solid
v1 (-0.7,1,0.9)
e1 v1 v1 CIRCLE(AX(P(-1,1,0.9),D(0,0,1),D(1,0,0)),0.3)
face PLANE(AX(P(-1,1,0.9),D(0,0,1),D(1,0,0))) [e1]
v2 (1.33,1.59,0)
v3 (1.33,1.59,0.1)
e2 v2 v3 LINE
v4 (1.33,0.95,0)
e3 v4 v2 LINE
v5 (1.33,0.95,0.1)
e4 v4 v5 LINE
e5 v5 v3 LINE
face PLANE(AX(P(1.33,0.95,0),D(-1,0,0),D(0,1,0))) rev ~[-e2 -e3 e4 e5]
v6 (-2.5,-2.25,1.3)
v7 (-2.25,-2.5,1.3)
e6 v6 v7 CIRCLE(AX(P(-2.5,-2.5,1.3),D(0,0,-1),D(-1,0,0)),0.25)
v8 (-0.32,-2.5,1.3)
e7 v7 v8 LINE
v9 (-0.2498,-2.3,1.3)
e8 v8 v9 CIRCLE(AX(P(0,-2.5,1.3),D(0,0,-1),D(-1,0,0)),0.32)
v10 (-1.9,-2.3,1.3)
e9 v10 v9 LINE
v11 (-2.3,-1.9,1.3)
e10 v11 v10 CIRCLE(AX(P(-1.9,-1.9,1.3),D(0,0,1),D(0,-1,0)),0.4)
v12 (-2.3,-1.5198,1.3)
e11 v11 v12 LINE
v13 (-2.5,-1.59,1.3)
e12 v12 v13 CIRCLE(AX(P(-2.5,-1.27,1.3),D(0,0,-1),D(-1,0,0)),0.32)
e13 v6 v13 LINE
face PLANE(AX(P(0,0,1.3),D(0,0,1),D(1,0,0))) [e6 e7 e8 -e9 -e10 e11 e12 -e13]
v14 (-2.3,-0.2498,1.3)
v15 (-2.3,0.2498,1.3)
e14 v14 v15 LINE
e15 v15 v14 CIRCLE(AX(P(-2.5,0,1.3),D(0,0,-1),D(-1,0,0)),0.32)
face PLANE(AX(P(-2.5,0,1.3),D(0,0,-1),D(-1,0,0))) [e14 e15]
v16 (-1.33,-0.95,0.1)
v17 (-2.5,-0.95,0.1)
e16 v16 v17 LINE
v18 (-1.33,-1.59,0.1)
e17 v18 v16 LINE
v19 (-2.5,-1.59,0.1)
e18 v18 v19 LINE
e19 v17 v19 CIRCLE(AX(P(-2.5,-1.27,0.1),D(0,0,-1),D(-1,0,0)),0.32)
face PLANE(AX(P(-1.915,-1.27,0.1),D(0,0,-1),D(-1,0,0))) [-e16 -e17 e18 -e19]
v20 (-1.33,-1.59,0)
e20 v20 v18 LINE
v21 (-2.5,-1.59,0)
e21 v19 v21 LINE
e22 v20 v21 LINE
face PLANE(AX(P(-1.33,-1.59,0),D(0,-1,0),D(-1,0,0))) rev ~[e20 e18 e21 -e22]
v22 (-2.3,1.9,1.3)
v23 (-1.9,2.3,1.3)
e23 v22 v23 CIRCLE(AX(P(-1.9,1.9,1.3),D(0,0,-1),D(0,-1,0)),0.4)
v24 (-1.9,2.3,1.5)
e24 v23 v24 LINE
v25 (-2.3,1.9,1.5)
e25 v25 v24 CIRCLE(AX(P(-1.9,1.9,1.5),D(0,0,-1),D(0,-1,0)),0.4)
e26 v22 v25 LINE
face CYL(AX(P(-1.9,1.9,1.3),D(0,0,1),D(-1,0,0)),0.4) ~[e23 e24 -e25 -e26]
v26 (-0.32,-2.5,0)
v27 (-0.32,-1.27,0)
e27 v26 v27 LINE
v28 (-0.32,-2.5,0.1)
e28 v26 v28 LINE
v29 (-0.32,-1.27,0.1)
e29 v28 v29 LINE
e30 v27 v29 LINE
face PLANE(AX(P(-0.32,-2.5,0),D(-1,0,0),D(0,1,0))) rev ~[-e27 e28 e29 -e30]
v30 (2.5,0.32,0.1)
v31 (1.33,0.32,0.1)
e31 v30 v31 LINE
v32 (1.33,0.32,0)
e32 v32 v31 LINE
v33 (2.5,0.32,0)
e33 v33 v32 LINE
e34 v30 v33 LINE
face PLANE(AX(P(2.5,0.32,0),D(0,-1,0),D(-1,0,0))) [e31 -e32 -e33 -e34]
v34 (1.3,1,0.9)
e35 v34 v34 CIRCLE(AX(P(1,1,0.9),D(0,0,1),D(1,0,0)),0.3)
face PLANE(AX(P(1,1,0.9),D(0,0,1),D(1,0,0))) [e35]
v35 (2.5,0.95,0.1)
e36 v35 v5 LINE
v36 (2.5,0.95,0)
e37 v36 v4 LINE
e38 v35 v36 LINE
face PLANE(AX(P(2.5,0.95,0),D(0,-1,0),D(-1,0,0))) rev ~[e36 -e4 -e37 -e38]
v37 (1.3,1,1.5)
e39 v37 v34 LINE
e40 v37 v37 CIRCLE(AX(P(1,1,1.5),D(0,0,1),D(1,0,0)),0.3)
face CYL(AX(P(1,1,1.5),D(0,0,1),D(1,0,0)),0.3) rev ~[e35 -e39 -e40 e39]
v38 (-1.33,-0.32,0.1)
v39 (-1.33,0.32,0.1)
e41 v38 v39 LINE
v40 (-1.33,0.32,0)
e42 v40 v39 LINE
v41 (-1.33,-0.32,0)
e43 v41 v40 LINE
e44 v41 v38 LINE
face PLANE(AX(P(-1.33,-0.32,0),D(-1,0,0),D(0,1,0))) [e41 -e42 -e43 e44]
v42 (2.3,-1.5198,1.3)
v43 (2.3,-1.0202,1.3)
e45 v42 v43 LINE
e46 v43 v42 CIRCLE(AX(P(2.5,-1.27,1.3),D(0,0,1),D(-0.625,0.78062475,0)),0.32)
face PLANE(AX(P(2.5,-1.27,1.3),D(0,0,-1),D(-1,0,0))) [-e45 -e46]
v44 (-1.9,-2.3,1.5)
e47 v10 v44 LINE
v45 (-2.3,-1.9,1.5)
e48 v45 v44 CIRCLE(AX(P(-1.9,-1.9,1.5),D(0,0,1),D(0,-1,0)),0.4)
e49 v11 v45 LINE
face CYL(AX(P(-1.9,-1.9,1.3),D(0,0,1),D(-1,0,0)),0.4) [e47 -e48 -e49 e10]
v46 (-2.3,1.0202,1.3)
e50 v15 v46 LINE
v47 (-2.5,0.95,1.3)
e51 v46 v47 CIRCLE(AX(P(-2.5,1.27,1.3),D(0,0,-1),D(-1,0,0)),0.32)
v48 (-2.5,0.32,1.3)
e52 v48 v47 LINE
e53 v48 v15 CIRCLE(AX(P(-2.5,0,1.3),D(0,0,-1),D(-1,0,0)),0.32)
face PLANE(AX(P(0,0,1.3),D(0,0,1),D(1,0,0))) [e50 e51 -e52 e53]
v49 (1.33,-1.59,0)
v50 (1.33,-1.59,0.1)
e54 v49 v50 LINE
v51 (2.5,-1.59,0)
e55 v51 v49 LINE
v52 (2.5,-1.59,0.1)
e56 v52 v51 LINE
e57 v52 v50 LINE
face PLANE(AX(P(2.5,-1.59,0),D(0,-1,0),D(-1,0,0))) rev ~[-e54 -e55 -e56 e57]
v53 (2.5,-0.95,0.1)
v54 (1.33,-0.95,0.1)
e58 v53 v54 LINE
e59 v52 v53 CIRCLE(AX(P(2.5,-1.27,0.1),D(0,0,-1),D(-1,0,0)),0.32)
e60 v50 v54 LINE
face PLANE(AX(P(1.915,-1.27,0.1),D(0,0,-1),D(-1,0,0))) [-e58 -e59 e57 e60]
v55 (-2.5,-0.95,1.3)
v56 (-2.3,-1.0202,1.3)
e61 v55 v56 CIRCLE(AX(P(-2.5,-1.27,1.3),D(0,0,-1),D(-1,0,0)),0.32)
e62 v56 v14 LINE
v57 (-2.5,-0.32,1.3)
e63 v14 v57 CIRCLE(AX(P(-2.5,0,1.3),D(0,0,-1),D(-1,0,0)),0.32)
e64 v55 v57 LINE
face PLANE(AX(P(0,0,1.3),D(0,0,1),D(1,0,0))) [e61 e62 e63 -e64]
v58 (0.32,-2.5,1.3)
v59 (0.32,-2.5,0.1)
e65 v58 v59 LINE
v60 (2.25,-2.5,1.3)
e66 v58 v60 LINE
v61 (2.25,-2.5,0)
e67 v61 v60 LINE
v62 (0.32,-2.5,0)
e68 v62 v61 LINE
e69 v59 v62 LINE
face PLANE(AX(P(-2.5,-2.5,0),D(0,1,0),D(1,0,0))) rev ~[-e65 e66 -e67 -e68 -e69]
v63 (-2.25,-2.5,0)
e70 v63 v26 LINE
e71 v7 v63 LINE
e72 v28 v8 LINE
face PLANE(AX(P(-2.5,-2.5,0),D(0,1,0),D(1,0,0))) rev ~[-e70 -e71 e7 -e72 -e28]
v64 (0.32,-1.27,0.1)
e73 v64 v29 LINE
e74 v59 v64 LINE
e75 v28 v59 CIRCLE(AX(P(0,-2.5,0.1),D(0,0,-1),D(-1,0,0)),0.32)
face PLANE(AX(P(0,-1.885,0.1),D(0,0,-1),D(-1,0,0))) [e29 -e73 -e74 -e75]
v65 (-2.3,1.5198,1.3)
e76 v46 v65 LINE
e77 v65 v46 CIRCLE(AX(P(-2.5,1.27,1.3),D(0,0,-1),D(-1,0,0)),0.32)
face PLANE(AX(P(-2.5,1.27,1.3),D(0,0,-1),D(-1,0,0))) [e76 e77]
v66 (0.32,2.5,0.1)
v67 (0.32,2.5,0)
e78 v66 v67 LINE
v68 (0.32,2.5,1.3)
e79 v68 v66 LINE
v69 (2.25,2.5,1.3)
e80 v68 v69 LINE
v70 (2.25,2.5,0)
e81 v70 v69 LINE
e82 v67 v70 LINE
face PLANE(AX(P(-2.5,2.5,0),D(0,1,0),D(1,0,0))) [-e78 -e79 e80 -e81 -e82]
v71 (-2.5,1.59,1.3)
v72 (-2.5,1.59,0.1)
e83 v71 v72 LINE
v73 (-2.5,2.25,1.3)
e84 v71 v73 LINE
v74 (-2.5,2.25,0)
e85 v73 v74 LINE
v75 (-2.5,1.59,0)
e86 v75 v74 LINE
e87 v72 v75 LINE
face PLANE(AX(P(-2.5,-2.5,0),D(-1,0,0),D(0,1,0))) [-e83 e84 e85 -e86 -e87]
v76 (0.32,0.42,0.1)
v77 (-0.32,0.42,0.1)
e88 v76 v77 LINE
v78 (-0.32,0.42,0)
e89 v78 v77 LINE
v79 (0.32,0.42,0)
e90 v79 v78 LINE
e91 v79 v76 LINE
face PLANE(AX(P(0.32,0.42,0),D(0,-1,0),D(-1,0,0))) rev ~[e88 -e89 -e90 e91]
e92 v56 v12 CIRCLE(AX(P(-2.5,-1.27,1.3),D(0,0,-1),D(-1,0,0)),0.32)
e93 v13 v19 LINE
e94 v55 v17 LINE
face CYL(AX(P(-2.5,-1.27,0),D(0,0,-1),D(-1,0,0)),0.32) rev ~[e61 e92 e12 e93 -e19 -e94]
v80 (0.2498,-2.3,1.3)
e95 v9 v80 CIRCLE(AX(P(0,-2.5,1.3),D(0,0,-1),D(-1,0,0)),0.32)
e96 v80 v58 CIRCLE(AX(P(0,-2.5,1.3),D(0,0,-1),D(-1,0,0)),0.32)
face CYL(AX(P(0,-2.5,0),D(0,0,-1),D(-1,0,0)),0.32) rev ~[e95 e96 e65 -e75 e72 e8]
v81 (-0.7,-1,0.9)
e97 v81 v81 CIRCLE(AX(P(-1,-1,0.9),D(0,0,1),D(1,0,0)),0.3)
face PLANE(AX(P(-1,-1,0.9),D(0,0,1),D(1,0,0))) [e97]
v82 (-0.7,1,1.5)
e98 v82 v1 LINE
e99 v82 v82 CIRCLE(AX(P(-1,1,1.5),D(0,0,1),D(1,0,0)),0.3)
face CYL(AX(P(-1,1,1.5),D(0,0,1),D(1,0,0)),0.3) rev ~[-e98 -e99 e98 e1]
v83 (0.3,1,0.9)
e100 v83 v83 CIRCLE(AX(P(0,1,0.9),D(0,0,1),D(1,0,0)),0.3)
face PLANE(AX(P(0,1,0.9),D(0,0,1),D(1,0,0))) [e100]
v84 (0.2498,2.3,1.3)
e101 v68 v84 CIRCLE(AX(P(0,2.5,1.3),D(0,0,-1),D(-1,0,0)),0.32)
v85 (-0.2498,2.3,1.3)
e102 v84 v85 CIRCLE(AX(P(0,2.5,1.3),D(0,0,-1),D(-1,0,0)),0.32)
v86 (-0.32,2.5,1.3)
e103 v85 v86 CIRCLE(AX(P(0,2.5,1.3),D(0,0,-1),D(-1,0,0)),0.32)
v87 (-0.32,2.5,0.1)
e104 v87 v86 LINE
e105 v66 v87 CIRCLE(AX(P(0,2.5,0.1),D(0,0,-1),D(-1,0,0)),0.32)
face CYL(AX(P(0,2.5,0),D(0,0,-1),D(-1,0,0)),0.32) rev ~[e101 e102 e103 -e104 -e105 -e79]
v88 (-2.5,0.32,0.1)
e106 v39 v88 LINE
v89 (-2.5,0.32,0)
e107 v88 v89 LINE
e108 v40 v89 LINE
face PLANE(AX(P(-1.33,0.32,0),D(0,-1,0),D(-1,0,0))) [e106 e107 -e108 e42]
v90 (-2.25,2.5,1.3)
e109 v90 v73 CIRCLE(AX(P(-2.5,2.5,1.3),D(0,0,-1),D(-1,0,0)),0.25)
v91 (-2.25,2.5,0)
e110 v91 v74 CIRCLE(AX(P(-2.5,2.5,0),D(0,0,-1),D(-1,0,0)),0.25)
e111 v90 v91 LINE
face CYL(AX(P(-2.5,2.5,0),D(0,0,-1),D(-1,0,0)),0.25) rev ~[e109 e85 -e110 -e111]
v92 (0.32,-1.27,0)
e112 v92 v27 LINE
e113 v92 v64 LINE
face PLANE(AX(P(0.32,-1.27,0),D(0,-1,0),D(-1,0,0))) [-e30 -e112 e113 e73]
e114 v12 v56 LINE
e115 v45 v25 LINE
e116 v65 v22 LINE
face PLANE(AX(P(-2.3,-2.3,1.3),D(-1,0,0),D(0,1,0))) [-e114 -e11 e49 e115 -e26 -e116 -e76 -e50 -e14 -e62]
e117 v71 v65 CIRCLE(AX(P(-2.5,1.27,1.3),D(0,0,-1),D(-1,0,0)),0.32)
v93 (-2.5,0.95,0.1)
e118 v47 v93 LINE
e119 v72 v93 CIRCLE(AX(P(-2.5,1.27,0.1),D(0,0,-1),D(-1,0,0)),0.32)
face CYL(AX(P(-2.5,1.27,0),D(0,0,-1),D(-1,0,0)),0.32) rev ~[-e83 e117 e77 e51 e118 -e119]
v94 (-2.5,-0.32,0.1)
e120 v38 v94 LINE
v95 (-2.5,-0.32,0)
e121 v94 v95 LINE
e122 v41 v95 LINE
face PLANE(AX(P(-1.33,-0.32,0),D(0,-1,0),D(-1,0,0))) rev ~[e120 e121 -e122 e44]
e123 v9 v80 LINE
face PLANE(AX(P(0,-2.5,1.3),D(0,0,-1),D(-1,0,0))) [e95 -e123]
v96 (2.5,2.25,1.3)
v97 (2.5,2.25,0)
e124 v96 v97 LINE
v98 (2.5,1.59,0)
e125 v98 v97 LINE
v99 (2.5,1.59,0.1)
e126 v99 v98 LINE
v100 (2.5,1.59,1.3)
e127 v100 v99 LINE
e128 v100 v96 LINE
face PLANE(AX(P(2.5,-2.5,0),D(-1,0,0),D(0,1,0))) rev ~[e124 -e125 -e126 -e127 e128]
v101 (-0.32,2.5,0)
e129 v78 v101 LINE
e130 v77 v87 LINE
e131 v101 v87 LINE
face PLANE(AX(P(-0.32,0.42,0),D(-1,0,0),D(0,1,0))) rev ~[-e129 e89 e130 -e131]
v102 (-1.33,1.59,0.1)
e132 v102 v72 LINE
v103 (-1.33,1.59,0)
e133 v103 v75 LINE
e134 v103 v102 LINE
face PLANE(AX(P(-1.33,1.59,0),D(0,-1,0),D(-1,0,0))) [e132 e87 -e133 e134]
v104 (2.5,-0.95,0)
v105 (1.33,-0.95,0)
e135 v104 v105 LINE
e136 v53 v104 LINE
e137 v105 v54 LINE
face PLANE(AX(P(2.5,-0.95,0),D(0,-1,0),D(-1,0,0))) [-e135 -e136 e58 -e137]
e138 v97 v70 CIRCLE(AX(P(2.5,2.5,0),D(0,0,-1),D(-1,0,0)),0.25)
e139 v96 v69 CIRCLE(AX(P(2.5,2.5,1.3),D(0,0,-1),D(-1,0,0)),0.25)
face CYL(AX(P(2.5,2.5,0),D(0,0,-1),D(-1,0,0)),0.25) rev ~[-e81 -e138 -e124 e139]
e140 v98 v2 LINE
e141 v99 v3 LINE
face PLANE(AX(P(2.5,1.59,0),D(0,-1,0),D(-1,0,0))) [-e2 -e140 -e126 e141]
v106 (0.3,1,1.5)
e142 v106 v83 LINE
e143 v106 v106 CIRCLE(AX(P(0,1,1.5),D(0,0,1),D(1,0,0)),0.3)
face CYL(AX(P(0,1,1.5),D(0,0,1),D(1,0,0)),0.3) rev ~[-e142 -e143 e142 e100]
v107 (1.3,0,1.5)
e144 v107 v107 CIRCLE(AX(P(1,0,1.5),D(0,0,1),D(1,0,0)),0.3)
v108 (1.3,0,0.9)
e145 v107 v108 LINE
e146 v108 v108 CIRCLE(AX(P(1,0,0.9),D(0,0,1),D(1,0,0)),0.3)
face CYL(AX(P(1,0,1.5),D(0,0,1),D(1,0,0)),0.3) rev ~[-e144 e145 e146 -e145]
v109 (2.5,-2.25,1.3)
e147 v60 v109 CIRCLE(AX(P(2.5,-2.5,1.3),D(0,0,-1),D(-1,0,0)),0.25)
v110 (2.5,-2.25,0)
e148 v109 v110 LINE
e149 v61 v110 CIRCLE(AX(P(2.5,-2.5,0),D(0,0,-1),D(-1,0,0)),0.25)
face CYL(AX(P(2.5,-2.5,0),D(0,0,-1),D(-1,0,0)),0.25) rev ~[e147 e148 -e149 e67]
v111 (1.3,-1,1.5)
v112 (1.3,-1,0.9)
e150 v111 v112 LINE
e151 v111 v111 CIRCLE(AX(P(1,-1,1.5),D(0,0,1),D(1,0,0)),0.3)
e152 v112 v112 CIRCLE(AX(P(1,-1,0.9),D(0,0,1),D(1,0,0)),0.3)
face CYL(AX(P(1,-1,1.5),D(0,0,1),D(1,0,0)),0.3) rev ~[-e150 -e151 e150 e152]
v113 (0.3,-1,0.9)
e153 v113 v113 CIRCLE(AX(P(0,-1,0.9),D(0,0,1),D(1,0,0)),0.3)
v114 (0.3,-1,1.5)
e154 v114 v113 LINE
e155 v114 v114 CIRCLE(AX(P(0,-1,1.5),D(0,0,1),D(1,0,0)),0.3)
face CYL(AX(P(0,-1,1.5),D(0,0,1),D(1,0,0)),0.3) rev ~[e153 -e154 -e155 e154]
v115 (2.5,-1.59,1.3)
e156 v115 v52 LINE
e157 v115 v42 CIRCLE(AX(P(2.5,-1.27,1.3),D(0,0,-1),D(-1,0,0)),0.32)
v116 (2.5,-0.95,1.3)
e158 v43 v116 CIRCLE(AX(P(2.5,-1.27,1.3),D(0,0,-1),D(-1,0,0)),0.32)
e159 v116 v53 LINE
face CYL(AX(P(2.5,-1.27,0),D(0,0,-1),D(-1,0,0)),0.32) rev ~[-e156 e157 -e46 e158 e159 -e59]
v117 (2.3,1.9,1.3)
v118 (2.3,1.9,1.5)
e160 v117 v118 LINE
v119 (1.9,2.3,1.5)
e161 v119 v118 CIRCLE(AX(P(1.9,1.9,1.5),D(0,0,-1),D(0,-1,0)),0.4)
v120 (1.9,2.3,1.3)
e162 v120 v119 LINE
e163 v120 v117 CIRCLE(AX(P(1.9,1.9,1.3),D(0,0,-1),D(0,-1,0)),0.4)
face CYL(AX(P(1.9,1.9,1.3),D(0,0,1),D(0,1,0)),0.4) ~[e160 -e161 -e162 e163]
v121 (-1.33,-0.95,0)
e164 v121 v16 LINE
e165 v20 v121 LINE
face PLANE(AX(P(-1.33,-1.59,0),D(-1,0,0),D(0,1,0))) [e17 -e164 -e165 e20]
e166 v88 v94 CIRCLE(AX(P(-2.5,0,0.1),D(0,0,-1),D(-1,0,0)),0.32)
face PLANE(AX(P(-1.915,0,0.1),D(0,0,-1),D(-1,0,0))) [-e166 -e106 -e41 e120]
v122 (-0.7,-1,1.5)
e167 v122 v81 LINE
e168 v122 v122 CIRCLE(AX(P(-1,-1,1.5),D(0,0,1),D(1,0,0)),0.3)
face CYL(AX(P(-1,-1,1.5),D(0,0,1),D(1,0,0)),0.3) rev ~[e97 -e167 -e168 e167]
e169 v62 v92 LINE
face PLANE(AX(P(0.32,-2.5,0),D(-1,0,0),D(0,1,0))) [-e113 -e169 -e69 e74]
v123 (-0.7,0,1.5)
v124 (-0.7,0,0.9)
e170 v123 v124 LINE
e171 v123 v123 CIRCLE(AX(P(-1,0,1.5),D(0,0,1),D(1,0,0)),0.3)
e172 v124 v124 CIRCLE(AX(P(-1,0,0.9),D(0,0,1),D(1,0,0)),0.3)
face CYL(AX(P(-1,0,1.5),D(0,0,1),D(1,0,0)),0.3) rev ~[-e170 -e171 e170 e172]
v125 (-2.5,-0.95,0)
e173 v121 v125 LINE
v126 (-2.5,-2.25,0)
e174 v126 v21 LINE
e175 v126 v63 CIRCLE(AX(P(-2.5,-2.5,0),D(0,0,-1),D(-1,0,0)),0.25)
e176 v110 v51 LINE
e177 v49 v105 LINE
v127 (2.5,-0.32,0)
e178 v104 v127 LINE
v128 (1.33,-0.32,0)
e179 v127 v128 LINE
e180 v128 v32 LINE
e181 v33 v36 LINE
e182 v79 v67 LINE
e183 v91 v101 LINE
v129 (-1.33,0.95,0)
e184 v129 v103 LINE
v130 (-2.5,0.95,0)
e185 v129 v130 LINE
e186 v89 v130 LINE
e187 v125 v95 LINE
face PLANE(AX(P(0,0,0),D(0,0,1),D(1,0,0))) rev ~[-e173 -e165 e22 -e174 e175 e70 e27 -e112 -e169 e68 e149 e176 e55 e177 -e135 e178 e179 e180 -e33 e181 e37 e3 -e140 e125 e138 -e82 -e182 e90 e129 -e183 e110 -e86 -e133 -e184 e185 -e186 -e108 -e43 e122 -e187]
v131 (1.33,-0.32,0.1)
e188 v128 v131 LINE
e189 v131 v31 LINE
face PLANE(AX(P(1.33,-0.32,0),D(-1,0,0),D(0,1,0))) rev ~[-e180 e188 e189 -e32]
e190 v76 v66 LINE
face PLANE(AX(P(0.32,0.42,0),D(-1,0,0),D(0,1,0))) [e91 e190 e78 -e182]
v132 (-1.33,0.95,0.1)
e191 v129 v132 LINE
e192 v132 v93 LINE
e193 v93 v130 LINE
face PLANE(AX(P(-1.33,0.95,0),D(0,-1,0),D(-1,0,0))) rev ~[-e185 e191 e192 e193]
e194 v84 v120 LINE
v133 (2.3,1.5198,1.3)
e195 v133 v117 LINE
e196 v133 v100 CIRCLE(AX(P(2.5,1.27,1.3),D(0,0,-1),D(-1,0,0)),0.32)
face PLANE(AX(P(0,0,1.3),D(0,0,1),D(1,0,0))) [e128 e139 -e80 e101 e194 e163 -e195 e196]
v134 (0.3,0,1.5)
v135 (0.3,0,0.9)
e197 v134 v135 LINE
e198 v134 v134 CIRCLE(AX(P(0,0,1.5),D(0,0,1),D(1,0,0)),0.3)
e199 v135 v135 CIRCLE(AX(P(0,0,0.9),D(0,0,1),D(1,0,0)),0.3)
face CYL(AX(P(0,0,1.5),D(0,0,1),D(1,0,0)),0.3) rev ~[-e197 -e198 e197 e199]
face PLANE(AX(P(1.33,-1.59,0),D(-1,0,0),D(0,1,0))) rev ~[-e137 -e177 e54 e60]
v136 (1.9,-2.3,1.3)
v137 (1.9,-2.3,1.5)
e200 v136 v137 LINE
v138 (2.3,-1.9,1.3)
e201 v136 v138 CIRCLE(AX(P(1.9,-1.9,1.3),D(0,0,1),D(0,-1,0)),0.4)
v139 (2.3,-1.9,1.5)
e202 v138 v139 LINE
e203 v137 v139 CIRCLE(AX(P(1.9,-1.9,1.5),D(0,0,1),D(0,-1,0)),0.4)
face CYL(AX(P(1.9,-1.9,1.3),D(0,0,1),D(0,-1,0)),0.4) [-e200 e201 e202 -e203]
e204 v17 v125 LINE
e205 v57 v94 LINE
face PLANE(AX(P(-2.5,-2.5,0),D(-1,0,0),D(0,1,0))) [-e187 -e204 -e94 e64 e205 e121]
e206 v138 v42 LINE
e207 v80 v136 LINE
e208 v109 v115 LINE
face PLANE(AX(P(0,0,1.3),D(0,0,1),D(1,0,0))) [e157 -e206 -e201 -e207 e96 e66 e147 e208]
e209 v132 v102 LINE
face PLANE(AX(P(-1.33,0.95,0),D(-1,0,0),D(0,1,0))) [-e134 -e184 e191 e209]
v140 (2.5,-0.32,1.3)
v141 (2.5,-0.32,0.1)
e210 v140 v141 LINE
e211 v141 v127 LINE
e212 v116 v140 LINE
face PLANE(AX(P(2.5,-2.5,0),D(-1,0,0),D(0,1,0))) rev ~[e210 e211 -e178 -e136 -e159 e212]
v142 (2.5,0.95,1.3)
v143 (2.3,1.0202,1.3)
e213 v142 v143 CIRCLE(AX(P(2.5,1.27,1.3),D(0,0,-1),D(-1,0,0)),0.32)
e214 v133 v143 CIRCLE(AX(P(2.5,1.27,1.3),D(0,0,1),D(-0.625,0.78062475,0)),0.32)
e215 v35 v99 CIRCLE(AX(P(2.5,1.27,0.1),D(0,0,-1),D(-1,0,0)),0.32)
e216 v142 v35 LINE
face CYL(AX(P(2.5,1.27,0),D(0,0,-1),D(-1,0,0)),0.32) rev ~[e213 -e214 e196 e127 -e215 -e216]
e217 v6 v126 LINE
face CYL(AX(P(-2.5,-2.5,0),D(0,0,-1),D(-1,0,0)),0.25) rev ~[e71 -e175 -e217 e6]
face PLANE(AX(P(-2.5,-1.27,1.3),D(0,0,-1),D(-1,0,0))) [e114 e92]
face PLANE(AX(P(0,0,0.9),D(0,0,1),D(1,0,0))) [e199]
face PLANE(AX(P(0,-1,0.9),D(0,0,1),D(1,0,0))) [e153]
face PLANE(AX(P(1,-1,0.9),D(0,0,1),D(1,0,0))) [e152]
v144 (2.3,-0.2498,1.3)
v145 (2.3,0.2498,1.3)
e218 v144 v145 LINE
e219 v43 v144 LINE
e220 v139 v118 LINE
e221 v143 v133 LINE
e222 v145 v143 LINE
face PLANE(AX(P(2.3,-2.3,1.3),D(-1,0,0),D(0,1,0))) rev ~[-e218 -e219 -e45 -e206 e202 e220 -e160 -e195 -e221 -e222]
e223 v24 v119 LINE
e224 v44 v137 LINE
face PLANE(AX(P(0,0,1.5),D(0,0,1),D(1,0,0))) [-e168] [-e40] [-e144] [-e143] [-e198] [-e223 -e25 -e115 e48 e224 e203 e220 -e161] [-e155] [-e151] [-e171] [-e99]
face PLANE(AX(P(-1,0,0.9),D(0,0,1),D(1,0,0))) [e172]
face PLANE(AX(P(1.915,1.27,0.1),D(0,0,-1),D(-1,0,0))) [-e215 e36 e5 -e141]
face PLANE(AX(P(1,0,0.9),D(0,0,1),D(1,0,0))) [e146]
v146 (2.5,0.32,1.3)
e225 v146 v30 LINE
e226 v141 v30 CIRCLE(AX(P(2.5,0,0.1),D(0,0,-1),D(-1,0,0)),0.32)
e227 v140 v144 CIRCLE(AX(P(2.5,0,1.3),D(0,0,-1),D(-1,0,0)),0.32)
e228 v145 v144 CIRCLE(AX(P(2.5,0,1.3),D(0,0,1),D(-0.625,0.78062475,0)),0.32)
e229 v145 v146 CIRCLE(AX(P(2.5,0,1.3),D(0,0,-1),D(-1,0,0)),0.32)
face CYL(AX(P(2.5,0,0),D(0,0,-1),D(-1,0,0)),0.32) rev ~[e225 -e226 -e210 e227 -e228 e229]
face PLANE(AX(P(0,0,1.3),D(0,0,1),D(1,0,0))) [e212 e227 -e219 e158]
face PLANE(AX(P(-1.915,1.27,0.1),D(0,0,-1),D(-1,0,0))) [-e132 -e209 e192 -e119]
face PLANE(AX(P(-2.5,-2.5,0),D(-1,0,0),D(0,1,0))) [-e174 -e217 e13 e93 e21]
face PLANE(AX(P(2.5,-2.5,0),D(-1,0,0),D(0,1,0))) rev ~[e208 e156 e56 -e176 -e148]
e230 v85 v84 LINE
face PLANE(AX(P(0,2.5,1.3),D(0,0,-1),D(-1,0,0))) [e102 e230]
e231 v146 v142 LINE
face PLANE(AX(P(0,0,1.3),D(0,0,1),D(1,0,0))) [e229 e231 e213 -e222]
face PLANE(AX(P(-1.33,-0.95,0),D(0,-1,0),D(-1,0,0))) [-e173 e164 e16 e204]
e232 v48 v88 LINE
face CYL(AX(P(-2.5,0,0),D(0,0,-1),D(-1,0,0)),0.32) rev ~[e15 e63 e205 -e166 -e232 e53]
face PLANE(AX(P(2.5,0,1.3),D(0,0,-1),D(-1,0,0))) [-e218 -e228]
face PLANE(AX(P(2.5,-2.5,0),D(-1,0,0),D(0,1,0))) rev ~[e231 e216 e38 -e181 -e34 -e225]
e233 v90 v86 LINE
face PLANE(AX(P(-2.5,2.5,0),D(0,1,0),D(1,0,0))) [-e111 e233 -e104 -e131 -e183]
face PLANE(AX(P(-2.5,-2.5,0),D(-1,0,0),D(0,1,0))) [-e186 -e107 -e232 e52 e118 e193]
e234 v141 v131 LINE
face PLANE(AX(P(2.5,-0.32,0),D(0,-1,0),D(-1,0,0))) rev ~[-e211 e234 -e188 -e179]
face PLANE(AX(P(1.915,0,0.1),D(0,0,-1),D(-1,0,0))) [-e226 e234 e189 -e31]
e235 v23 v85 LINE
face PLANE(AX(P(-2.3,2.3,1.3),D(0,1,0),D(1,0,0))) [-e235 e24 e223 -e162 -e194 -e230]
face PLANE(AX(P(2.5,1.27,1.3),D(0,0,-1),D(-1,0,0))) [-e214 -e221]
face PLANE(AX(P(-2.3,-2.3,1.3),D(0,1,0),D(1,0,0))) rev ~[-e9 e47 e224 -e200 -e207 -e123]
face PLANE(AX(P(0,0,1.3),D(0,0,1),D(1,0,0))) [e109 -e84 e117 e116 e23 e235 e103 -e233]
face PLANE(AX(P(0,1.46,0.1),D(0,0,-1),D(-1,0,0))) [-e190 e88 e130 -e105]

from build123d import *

# Parameters (mm, degrees)
SKETCH_1_W          = 5
SKETCH_1_H          = 5
EXTRUDE_1_DEPTH     = 1.3
SKETCH_2_W          = 4.6
SKETCH_2_H          = 4.6
EXTRUDE_2_DEPTH     = 0.2
SKETCH_3_R          = 0.3
CUT_EXTRUDE_2_DEPTH = 0.6
SKETCH_4_R          = 0.32
CUT_EXTRUDE_3_DEPTH = 1.3
SKETCH_5_R          = 0.25
CUT_EXTRUDE_4_DEPTH = 4.840572874
FILLET_1_R          = 0.4
SKETCH_8_W          = 1.17
SKETCH_8_H          = 0.64
SKETCH_8_W_2        = 0.64
SKETCH_8_H_2        = 1.23
SKETCH_8_H_3        = 2.08
CUT_EXTRUDE_5_DEPTH = 0.1


with BuildPart() as part:
    # Эскиз1 → Бобышка-Вытянуть1 (new body)
    with BuildSketch(Plane.XY):
        Rectangle(SKETCH_1_W, SKETCH_1_H)
    extrude(amount=EXTRUDE_1_DEPTH)

    # Эскиз2 → Бобышка-Вытянуть2 (add)
    with BuildSketch(Plane.XY.offset(1.3)):
        Rectangle(SKETCH_2_W, SKETCH_2_H)
    extrude(amount=EXTRUDE_2_DEPTH)

    # Эскиз3 → Вырез-Вытянуть2 (cut)
    with BuildSketch(Plane.XY.offset(1.5)):
        Circle(SKETCH_3_R)
        with Locations((1, 0)):
            Circle(SKETCH_3_R)
        with Locations((1, 1)):
            Circle(SKETCH_3_R)
        with Locations((0, 1)):
            Circle(SKETCH_3_R)
        with Locations((-1, 0)):
            Circle(SKETCH_3_R)
        with Locations((-1, 1)):
            Circle(SKETCH_3_R)
        with Locations((0, -1)):
            Circle(SKETCH_3_R)
        with Locations((1, -1)):
            Circle(SKETCH_3_R)
        with Locations((-1, -1)):
            Circle(SKETCH_3_R)
    extrude(amount=-CUT_EXTRUDE_2_DEPTH, mode=Mode.SUBTRACT)

    # Эскиз4 → Вырез-Вытянуть3 (cut)
    with BuildSketch(Plane(origin=(0, 0, 0), x_dir=(-1, 0, 0), z_dir=(0, 0, -1))):
        with Locations((-2.5, 0)):
            Circle(SKETCH_4_R)
        with Locations((2.5, 0)):
            Circle(SKETCH_4_R)
        with Locations((2.5, 1.27)):
            Circle(SKETCH_4_R)
        with Locations((-2.5, 1.27)):
            Circle(SKETCH_4_R)
        with Locations((-2.5, -1.27)):
            Circle(SKETCH_4_R)
        with Locations((2.5, -1.27)):
            Circle(SKETCH_4_R)
        with Locations((0, 2.5)):
            Circle(SKETCH_4_R)
        with Locations((0, -2.5)):
            Circle(SKETCH_4_R)
    extrude(amount=-CUT_EXTRUDE_3_DEPTH, mode=Mode.SUBTRACT)

    # Эскиз5 → Вырез-Вытянуть4 (cut, through all)
    with BuildSketch(Plane(origin=(0, 0, 0), x_dir=(-1, 0, 0), z_dir=(0, 0, -1))):
        with Locations((-2.5, 2.5)):
            Circle(SKETCH_5_R)
        with Locations((2.5, 2.5)):
            Circle(SKETCH_5_R)
        with Locations((2.5, -2.5)):
            Circle(SKETCH_5_R)
        with Locations((-2.5, -2.5)):
            Circle(SKETCH_5_R)
    extrude(amount=-CUT_EXTRUDE_4_DEPTH, mode=Mode.SUBTRACT)

    # Скругление1
    fillet_1_edges = [part.edges().sort_by_distance(p)[0] for p in [
        (-2.3, 2.3, 1.4),
        (-2.3, -2.3, 1.4),
        (2.3, -2.3, 1.4),
        (2.3, 2.3, 1.4),
    ]]
    fillet(fillet_1_edges, radius=FILLET_1_R)

    # Эскиз8 → Вырез-Вытянуть5 (cut)
    with BuildSketch(Plane(origin=(0, 0, 0), x_dir=(-1, 0, 0), z_dir=(0, 0, -1))):
        with Locations((-1.915, 1.27)):
            Rectangle(SKETCH_8_W, SKETCH_8_H)
        with Locations((-1.915, 0)):
            Rectangle(SKETCH_8_W, SKETCH_8_H)
        with Locations((-1.915, -1.27)):
            Rectangle(SKETCH_8_W, SKETCH_8_H)
        with Locations((1.915, -1.27)):
            Rectangle(SKETCH_8_W, SKETCH_8_H)
        with Locations((1.915, 0)):
            Rectangle(SKETCH_8_W, SKETCH_8_H)
        with Locations((1.915, 1.27)):
            Rectangle(SKETCH_8_W, SKETCH_8_H)
        with Locations((0, -1.885)):
            Rectangle(SKETCH_8_W_2, SKETCH_8_H_2)
        with Locations((0, 1.46)):
            Rectangle(SKETCH_8_W_2, SKETCH_8_H_3)
    extrude(amount=-CUT_EXTRUDE_5_DEPTH, mode=Mode.SUBTRACT)


solid = part.part
